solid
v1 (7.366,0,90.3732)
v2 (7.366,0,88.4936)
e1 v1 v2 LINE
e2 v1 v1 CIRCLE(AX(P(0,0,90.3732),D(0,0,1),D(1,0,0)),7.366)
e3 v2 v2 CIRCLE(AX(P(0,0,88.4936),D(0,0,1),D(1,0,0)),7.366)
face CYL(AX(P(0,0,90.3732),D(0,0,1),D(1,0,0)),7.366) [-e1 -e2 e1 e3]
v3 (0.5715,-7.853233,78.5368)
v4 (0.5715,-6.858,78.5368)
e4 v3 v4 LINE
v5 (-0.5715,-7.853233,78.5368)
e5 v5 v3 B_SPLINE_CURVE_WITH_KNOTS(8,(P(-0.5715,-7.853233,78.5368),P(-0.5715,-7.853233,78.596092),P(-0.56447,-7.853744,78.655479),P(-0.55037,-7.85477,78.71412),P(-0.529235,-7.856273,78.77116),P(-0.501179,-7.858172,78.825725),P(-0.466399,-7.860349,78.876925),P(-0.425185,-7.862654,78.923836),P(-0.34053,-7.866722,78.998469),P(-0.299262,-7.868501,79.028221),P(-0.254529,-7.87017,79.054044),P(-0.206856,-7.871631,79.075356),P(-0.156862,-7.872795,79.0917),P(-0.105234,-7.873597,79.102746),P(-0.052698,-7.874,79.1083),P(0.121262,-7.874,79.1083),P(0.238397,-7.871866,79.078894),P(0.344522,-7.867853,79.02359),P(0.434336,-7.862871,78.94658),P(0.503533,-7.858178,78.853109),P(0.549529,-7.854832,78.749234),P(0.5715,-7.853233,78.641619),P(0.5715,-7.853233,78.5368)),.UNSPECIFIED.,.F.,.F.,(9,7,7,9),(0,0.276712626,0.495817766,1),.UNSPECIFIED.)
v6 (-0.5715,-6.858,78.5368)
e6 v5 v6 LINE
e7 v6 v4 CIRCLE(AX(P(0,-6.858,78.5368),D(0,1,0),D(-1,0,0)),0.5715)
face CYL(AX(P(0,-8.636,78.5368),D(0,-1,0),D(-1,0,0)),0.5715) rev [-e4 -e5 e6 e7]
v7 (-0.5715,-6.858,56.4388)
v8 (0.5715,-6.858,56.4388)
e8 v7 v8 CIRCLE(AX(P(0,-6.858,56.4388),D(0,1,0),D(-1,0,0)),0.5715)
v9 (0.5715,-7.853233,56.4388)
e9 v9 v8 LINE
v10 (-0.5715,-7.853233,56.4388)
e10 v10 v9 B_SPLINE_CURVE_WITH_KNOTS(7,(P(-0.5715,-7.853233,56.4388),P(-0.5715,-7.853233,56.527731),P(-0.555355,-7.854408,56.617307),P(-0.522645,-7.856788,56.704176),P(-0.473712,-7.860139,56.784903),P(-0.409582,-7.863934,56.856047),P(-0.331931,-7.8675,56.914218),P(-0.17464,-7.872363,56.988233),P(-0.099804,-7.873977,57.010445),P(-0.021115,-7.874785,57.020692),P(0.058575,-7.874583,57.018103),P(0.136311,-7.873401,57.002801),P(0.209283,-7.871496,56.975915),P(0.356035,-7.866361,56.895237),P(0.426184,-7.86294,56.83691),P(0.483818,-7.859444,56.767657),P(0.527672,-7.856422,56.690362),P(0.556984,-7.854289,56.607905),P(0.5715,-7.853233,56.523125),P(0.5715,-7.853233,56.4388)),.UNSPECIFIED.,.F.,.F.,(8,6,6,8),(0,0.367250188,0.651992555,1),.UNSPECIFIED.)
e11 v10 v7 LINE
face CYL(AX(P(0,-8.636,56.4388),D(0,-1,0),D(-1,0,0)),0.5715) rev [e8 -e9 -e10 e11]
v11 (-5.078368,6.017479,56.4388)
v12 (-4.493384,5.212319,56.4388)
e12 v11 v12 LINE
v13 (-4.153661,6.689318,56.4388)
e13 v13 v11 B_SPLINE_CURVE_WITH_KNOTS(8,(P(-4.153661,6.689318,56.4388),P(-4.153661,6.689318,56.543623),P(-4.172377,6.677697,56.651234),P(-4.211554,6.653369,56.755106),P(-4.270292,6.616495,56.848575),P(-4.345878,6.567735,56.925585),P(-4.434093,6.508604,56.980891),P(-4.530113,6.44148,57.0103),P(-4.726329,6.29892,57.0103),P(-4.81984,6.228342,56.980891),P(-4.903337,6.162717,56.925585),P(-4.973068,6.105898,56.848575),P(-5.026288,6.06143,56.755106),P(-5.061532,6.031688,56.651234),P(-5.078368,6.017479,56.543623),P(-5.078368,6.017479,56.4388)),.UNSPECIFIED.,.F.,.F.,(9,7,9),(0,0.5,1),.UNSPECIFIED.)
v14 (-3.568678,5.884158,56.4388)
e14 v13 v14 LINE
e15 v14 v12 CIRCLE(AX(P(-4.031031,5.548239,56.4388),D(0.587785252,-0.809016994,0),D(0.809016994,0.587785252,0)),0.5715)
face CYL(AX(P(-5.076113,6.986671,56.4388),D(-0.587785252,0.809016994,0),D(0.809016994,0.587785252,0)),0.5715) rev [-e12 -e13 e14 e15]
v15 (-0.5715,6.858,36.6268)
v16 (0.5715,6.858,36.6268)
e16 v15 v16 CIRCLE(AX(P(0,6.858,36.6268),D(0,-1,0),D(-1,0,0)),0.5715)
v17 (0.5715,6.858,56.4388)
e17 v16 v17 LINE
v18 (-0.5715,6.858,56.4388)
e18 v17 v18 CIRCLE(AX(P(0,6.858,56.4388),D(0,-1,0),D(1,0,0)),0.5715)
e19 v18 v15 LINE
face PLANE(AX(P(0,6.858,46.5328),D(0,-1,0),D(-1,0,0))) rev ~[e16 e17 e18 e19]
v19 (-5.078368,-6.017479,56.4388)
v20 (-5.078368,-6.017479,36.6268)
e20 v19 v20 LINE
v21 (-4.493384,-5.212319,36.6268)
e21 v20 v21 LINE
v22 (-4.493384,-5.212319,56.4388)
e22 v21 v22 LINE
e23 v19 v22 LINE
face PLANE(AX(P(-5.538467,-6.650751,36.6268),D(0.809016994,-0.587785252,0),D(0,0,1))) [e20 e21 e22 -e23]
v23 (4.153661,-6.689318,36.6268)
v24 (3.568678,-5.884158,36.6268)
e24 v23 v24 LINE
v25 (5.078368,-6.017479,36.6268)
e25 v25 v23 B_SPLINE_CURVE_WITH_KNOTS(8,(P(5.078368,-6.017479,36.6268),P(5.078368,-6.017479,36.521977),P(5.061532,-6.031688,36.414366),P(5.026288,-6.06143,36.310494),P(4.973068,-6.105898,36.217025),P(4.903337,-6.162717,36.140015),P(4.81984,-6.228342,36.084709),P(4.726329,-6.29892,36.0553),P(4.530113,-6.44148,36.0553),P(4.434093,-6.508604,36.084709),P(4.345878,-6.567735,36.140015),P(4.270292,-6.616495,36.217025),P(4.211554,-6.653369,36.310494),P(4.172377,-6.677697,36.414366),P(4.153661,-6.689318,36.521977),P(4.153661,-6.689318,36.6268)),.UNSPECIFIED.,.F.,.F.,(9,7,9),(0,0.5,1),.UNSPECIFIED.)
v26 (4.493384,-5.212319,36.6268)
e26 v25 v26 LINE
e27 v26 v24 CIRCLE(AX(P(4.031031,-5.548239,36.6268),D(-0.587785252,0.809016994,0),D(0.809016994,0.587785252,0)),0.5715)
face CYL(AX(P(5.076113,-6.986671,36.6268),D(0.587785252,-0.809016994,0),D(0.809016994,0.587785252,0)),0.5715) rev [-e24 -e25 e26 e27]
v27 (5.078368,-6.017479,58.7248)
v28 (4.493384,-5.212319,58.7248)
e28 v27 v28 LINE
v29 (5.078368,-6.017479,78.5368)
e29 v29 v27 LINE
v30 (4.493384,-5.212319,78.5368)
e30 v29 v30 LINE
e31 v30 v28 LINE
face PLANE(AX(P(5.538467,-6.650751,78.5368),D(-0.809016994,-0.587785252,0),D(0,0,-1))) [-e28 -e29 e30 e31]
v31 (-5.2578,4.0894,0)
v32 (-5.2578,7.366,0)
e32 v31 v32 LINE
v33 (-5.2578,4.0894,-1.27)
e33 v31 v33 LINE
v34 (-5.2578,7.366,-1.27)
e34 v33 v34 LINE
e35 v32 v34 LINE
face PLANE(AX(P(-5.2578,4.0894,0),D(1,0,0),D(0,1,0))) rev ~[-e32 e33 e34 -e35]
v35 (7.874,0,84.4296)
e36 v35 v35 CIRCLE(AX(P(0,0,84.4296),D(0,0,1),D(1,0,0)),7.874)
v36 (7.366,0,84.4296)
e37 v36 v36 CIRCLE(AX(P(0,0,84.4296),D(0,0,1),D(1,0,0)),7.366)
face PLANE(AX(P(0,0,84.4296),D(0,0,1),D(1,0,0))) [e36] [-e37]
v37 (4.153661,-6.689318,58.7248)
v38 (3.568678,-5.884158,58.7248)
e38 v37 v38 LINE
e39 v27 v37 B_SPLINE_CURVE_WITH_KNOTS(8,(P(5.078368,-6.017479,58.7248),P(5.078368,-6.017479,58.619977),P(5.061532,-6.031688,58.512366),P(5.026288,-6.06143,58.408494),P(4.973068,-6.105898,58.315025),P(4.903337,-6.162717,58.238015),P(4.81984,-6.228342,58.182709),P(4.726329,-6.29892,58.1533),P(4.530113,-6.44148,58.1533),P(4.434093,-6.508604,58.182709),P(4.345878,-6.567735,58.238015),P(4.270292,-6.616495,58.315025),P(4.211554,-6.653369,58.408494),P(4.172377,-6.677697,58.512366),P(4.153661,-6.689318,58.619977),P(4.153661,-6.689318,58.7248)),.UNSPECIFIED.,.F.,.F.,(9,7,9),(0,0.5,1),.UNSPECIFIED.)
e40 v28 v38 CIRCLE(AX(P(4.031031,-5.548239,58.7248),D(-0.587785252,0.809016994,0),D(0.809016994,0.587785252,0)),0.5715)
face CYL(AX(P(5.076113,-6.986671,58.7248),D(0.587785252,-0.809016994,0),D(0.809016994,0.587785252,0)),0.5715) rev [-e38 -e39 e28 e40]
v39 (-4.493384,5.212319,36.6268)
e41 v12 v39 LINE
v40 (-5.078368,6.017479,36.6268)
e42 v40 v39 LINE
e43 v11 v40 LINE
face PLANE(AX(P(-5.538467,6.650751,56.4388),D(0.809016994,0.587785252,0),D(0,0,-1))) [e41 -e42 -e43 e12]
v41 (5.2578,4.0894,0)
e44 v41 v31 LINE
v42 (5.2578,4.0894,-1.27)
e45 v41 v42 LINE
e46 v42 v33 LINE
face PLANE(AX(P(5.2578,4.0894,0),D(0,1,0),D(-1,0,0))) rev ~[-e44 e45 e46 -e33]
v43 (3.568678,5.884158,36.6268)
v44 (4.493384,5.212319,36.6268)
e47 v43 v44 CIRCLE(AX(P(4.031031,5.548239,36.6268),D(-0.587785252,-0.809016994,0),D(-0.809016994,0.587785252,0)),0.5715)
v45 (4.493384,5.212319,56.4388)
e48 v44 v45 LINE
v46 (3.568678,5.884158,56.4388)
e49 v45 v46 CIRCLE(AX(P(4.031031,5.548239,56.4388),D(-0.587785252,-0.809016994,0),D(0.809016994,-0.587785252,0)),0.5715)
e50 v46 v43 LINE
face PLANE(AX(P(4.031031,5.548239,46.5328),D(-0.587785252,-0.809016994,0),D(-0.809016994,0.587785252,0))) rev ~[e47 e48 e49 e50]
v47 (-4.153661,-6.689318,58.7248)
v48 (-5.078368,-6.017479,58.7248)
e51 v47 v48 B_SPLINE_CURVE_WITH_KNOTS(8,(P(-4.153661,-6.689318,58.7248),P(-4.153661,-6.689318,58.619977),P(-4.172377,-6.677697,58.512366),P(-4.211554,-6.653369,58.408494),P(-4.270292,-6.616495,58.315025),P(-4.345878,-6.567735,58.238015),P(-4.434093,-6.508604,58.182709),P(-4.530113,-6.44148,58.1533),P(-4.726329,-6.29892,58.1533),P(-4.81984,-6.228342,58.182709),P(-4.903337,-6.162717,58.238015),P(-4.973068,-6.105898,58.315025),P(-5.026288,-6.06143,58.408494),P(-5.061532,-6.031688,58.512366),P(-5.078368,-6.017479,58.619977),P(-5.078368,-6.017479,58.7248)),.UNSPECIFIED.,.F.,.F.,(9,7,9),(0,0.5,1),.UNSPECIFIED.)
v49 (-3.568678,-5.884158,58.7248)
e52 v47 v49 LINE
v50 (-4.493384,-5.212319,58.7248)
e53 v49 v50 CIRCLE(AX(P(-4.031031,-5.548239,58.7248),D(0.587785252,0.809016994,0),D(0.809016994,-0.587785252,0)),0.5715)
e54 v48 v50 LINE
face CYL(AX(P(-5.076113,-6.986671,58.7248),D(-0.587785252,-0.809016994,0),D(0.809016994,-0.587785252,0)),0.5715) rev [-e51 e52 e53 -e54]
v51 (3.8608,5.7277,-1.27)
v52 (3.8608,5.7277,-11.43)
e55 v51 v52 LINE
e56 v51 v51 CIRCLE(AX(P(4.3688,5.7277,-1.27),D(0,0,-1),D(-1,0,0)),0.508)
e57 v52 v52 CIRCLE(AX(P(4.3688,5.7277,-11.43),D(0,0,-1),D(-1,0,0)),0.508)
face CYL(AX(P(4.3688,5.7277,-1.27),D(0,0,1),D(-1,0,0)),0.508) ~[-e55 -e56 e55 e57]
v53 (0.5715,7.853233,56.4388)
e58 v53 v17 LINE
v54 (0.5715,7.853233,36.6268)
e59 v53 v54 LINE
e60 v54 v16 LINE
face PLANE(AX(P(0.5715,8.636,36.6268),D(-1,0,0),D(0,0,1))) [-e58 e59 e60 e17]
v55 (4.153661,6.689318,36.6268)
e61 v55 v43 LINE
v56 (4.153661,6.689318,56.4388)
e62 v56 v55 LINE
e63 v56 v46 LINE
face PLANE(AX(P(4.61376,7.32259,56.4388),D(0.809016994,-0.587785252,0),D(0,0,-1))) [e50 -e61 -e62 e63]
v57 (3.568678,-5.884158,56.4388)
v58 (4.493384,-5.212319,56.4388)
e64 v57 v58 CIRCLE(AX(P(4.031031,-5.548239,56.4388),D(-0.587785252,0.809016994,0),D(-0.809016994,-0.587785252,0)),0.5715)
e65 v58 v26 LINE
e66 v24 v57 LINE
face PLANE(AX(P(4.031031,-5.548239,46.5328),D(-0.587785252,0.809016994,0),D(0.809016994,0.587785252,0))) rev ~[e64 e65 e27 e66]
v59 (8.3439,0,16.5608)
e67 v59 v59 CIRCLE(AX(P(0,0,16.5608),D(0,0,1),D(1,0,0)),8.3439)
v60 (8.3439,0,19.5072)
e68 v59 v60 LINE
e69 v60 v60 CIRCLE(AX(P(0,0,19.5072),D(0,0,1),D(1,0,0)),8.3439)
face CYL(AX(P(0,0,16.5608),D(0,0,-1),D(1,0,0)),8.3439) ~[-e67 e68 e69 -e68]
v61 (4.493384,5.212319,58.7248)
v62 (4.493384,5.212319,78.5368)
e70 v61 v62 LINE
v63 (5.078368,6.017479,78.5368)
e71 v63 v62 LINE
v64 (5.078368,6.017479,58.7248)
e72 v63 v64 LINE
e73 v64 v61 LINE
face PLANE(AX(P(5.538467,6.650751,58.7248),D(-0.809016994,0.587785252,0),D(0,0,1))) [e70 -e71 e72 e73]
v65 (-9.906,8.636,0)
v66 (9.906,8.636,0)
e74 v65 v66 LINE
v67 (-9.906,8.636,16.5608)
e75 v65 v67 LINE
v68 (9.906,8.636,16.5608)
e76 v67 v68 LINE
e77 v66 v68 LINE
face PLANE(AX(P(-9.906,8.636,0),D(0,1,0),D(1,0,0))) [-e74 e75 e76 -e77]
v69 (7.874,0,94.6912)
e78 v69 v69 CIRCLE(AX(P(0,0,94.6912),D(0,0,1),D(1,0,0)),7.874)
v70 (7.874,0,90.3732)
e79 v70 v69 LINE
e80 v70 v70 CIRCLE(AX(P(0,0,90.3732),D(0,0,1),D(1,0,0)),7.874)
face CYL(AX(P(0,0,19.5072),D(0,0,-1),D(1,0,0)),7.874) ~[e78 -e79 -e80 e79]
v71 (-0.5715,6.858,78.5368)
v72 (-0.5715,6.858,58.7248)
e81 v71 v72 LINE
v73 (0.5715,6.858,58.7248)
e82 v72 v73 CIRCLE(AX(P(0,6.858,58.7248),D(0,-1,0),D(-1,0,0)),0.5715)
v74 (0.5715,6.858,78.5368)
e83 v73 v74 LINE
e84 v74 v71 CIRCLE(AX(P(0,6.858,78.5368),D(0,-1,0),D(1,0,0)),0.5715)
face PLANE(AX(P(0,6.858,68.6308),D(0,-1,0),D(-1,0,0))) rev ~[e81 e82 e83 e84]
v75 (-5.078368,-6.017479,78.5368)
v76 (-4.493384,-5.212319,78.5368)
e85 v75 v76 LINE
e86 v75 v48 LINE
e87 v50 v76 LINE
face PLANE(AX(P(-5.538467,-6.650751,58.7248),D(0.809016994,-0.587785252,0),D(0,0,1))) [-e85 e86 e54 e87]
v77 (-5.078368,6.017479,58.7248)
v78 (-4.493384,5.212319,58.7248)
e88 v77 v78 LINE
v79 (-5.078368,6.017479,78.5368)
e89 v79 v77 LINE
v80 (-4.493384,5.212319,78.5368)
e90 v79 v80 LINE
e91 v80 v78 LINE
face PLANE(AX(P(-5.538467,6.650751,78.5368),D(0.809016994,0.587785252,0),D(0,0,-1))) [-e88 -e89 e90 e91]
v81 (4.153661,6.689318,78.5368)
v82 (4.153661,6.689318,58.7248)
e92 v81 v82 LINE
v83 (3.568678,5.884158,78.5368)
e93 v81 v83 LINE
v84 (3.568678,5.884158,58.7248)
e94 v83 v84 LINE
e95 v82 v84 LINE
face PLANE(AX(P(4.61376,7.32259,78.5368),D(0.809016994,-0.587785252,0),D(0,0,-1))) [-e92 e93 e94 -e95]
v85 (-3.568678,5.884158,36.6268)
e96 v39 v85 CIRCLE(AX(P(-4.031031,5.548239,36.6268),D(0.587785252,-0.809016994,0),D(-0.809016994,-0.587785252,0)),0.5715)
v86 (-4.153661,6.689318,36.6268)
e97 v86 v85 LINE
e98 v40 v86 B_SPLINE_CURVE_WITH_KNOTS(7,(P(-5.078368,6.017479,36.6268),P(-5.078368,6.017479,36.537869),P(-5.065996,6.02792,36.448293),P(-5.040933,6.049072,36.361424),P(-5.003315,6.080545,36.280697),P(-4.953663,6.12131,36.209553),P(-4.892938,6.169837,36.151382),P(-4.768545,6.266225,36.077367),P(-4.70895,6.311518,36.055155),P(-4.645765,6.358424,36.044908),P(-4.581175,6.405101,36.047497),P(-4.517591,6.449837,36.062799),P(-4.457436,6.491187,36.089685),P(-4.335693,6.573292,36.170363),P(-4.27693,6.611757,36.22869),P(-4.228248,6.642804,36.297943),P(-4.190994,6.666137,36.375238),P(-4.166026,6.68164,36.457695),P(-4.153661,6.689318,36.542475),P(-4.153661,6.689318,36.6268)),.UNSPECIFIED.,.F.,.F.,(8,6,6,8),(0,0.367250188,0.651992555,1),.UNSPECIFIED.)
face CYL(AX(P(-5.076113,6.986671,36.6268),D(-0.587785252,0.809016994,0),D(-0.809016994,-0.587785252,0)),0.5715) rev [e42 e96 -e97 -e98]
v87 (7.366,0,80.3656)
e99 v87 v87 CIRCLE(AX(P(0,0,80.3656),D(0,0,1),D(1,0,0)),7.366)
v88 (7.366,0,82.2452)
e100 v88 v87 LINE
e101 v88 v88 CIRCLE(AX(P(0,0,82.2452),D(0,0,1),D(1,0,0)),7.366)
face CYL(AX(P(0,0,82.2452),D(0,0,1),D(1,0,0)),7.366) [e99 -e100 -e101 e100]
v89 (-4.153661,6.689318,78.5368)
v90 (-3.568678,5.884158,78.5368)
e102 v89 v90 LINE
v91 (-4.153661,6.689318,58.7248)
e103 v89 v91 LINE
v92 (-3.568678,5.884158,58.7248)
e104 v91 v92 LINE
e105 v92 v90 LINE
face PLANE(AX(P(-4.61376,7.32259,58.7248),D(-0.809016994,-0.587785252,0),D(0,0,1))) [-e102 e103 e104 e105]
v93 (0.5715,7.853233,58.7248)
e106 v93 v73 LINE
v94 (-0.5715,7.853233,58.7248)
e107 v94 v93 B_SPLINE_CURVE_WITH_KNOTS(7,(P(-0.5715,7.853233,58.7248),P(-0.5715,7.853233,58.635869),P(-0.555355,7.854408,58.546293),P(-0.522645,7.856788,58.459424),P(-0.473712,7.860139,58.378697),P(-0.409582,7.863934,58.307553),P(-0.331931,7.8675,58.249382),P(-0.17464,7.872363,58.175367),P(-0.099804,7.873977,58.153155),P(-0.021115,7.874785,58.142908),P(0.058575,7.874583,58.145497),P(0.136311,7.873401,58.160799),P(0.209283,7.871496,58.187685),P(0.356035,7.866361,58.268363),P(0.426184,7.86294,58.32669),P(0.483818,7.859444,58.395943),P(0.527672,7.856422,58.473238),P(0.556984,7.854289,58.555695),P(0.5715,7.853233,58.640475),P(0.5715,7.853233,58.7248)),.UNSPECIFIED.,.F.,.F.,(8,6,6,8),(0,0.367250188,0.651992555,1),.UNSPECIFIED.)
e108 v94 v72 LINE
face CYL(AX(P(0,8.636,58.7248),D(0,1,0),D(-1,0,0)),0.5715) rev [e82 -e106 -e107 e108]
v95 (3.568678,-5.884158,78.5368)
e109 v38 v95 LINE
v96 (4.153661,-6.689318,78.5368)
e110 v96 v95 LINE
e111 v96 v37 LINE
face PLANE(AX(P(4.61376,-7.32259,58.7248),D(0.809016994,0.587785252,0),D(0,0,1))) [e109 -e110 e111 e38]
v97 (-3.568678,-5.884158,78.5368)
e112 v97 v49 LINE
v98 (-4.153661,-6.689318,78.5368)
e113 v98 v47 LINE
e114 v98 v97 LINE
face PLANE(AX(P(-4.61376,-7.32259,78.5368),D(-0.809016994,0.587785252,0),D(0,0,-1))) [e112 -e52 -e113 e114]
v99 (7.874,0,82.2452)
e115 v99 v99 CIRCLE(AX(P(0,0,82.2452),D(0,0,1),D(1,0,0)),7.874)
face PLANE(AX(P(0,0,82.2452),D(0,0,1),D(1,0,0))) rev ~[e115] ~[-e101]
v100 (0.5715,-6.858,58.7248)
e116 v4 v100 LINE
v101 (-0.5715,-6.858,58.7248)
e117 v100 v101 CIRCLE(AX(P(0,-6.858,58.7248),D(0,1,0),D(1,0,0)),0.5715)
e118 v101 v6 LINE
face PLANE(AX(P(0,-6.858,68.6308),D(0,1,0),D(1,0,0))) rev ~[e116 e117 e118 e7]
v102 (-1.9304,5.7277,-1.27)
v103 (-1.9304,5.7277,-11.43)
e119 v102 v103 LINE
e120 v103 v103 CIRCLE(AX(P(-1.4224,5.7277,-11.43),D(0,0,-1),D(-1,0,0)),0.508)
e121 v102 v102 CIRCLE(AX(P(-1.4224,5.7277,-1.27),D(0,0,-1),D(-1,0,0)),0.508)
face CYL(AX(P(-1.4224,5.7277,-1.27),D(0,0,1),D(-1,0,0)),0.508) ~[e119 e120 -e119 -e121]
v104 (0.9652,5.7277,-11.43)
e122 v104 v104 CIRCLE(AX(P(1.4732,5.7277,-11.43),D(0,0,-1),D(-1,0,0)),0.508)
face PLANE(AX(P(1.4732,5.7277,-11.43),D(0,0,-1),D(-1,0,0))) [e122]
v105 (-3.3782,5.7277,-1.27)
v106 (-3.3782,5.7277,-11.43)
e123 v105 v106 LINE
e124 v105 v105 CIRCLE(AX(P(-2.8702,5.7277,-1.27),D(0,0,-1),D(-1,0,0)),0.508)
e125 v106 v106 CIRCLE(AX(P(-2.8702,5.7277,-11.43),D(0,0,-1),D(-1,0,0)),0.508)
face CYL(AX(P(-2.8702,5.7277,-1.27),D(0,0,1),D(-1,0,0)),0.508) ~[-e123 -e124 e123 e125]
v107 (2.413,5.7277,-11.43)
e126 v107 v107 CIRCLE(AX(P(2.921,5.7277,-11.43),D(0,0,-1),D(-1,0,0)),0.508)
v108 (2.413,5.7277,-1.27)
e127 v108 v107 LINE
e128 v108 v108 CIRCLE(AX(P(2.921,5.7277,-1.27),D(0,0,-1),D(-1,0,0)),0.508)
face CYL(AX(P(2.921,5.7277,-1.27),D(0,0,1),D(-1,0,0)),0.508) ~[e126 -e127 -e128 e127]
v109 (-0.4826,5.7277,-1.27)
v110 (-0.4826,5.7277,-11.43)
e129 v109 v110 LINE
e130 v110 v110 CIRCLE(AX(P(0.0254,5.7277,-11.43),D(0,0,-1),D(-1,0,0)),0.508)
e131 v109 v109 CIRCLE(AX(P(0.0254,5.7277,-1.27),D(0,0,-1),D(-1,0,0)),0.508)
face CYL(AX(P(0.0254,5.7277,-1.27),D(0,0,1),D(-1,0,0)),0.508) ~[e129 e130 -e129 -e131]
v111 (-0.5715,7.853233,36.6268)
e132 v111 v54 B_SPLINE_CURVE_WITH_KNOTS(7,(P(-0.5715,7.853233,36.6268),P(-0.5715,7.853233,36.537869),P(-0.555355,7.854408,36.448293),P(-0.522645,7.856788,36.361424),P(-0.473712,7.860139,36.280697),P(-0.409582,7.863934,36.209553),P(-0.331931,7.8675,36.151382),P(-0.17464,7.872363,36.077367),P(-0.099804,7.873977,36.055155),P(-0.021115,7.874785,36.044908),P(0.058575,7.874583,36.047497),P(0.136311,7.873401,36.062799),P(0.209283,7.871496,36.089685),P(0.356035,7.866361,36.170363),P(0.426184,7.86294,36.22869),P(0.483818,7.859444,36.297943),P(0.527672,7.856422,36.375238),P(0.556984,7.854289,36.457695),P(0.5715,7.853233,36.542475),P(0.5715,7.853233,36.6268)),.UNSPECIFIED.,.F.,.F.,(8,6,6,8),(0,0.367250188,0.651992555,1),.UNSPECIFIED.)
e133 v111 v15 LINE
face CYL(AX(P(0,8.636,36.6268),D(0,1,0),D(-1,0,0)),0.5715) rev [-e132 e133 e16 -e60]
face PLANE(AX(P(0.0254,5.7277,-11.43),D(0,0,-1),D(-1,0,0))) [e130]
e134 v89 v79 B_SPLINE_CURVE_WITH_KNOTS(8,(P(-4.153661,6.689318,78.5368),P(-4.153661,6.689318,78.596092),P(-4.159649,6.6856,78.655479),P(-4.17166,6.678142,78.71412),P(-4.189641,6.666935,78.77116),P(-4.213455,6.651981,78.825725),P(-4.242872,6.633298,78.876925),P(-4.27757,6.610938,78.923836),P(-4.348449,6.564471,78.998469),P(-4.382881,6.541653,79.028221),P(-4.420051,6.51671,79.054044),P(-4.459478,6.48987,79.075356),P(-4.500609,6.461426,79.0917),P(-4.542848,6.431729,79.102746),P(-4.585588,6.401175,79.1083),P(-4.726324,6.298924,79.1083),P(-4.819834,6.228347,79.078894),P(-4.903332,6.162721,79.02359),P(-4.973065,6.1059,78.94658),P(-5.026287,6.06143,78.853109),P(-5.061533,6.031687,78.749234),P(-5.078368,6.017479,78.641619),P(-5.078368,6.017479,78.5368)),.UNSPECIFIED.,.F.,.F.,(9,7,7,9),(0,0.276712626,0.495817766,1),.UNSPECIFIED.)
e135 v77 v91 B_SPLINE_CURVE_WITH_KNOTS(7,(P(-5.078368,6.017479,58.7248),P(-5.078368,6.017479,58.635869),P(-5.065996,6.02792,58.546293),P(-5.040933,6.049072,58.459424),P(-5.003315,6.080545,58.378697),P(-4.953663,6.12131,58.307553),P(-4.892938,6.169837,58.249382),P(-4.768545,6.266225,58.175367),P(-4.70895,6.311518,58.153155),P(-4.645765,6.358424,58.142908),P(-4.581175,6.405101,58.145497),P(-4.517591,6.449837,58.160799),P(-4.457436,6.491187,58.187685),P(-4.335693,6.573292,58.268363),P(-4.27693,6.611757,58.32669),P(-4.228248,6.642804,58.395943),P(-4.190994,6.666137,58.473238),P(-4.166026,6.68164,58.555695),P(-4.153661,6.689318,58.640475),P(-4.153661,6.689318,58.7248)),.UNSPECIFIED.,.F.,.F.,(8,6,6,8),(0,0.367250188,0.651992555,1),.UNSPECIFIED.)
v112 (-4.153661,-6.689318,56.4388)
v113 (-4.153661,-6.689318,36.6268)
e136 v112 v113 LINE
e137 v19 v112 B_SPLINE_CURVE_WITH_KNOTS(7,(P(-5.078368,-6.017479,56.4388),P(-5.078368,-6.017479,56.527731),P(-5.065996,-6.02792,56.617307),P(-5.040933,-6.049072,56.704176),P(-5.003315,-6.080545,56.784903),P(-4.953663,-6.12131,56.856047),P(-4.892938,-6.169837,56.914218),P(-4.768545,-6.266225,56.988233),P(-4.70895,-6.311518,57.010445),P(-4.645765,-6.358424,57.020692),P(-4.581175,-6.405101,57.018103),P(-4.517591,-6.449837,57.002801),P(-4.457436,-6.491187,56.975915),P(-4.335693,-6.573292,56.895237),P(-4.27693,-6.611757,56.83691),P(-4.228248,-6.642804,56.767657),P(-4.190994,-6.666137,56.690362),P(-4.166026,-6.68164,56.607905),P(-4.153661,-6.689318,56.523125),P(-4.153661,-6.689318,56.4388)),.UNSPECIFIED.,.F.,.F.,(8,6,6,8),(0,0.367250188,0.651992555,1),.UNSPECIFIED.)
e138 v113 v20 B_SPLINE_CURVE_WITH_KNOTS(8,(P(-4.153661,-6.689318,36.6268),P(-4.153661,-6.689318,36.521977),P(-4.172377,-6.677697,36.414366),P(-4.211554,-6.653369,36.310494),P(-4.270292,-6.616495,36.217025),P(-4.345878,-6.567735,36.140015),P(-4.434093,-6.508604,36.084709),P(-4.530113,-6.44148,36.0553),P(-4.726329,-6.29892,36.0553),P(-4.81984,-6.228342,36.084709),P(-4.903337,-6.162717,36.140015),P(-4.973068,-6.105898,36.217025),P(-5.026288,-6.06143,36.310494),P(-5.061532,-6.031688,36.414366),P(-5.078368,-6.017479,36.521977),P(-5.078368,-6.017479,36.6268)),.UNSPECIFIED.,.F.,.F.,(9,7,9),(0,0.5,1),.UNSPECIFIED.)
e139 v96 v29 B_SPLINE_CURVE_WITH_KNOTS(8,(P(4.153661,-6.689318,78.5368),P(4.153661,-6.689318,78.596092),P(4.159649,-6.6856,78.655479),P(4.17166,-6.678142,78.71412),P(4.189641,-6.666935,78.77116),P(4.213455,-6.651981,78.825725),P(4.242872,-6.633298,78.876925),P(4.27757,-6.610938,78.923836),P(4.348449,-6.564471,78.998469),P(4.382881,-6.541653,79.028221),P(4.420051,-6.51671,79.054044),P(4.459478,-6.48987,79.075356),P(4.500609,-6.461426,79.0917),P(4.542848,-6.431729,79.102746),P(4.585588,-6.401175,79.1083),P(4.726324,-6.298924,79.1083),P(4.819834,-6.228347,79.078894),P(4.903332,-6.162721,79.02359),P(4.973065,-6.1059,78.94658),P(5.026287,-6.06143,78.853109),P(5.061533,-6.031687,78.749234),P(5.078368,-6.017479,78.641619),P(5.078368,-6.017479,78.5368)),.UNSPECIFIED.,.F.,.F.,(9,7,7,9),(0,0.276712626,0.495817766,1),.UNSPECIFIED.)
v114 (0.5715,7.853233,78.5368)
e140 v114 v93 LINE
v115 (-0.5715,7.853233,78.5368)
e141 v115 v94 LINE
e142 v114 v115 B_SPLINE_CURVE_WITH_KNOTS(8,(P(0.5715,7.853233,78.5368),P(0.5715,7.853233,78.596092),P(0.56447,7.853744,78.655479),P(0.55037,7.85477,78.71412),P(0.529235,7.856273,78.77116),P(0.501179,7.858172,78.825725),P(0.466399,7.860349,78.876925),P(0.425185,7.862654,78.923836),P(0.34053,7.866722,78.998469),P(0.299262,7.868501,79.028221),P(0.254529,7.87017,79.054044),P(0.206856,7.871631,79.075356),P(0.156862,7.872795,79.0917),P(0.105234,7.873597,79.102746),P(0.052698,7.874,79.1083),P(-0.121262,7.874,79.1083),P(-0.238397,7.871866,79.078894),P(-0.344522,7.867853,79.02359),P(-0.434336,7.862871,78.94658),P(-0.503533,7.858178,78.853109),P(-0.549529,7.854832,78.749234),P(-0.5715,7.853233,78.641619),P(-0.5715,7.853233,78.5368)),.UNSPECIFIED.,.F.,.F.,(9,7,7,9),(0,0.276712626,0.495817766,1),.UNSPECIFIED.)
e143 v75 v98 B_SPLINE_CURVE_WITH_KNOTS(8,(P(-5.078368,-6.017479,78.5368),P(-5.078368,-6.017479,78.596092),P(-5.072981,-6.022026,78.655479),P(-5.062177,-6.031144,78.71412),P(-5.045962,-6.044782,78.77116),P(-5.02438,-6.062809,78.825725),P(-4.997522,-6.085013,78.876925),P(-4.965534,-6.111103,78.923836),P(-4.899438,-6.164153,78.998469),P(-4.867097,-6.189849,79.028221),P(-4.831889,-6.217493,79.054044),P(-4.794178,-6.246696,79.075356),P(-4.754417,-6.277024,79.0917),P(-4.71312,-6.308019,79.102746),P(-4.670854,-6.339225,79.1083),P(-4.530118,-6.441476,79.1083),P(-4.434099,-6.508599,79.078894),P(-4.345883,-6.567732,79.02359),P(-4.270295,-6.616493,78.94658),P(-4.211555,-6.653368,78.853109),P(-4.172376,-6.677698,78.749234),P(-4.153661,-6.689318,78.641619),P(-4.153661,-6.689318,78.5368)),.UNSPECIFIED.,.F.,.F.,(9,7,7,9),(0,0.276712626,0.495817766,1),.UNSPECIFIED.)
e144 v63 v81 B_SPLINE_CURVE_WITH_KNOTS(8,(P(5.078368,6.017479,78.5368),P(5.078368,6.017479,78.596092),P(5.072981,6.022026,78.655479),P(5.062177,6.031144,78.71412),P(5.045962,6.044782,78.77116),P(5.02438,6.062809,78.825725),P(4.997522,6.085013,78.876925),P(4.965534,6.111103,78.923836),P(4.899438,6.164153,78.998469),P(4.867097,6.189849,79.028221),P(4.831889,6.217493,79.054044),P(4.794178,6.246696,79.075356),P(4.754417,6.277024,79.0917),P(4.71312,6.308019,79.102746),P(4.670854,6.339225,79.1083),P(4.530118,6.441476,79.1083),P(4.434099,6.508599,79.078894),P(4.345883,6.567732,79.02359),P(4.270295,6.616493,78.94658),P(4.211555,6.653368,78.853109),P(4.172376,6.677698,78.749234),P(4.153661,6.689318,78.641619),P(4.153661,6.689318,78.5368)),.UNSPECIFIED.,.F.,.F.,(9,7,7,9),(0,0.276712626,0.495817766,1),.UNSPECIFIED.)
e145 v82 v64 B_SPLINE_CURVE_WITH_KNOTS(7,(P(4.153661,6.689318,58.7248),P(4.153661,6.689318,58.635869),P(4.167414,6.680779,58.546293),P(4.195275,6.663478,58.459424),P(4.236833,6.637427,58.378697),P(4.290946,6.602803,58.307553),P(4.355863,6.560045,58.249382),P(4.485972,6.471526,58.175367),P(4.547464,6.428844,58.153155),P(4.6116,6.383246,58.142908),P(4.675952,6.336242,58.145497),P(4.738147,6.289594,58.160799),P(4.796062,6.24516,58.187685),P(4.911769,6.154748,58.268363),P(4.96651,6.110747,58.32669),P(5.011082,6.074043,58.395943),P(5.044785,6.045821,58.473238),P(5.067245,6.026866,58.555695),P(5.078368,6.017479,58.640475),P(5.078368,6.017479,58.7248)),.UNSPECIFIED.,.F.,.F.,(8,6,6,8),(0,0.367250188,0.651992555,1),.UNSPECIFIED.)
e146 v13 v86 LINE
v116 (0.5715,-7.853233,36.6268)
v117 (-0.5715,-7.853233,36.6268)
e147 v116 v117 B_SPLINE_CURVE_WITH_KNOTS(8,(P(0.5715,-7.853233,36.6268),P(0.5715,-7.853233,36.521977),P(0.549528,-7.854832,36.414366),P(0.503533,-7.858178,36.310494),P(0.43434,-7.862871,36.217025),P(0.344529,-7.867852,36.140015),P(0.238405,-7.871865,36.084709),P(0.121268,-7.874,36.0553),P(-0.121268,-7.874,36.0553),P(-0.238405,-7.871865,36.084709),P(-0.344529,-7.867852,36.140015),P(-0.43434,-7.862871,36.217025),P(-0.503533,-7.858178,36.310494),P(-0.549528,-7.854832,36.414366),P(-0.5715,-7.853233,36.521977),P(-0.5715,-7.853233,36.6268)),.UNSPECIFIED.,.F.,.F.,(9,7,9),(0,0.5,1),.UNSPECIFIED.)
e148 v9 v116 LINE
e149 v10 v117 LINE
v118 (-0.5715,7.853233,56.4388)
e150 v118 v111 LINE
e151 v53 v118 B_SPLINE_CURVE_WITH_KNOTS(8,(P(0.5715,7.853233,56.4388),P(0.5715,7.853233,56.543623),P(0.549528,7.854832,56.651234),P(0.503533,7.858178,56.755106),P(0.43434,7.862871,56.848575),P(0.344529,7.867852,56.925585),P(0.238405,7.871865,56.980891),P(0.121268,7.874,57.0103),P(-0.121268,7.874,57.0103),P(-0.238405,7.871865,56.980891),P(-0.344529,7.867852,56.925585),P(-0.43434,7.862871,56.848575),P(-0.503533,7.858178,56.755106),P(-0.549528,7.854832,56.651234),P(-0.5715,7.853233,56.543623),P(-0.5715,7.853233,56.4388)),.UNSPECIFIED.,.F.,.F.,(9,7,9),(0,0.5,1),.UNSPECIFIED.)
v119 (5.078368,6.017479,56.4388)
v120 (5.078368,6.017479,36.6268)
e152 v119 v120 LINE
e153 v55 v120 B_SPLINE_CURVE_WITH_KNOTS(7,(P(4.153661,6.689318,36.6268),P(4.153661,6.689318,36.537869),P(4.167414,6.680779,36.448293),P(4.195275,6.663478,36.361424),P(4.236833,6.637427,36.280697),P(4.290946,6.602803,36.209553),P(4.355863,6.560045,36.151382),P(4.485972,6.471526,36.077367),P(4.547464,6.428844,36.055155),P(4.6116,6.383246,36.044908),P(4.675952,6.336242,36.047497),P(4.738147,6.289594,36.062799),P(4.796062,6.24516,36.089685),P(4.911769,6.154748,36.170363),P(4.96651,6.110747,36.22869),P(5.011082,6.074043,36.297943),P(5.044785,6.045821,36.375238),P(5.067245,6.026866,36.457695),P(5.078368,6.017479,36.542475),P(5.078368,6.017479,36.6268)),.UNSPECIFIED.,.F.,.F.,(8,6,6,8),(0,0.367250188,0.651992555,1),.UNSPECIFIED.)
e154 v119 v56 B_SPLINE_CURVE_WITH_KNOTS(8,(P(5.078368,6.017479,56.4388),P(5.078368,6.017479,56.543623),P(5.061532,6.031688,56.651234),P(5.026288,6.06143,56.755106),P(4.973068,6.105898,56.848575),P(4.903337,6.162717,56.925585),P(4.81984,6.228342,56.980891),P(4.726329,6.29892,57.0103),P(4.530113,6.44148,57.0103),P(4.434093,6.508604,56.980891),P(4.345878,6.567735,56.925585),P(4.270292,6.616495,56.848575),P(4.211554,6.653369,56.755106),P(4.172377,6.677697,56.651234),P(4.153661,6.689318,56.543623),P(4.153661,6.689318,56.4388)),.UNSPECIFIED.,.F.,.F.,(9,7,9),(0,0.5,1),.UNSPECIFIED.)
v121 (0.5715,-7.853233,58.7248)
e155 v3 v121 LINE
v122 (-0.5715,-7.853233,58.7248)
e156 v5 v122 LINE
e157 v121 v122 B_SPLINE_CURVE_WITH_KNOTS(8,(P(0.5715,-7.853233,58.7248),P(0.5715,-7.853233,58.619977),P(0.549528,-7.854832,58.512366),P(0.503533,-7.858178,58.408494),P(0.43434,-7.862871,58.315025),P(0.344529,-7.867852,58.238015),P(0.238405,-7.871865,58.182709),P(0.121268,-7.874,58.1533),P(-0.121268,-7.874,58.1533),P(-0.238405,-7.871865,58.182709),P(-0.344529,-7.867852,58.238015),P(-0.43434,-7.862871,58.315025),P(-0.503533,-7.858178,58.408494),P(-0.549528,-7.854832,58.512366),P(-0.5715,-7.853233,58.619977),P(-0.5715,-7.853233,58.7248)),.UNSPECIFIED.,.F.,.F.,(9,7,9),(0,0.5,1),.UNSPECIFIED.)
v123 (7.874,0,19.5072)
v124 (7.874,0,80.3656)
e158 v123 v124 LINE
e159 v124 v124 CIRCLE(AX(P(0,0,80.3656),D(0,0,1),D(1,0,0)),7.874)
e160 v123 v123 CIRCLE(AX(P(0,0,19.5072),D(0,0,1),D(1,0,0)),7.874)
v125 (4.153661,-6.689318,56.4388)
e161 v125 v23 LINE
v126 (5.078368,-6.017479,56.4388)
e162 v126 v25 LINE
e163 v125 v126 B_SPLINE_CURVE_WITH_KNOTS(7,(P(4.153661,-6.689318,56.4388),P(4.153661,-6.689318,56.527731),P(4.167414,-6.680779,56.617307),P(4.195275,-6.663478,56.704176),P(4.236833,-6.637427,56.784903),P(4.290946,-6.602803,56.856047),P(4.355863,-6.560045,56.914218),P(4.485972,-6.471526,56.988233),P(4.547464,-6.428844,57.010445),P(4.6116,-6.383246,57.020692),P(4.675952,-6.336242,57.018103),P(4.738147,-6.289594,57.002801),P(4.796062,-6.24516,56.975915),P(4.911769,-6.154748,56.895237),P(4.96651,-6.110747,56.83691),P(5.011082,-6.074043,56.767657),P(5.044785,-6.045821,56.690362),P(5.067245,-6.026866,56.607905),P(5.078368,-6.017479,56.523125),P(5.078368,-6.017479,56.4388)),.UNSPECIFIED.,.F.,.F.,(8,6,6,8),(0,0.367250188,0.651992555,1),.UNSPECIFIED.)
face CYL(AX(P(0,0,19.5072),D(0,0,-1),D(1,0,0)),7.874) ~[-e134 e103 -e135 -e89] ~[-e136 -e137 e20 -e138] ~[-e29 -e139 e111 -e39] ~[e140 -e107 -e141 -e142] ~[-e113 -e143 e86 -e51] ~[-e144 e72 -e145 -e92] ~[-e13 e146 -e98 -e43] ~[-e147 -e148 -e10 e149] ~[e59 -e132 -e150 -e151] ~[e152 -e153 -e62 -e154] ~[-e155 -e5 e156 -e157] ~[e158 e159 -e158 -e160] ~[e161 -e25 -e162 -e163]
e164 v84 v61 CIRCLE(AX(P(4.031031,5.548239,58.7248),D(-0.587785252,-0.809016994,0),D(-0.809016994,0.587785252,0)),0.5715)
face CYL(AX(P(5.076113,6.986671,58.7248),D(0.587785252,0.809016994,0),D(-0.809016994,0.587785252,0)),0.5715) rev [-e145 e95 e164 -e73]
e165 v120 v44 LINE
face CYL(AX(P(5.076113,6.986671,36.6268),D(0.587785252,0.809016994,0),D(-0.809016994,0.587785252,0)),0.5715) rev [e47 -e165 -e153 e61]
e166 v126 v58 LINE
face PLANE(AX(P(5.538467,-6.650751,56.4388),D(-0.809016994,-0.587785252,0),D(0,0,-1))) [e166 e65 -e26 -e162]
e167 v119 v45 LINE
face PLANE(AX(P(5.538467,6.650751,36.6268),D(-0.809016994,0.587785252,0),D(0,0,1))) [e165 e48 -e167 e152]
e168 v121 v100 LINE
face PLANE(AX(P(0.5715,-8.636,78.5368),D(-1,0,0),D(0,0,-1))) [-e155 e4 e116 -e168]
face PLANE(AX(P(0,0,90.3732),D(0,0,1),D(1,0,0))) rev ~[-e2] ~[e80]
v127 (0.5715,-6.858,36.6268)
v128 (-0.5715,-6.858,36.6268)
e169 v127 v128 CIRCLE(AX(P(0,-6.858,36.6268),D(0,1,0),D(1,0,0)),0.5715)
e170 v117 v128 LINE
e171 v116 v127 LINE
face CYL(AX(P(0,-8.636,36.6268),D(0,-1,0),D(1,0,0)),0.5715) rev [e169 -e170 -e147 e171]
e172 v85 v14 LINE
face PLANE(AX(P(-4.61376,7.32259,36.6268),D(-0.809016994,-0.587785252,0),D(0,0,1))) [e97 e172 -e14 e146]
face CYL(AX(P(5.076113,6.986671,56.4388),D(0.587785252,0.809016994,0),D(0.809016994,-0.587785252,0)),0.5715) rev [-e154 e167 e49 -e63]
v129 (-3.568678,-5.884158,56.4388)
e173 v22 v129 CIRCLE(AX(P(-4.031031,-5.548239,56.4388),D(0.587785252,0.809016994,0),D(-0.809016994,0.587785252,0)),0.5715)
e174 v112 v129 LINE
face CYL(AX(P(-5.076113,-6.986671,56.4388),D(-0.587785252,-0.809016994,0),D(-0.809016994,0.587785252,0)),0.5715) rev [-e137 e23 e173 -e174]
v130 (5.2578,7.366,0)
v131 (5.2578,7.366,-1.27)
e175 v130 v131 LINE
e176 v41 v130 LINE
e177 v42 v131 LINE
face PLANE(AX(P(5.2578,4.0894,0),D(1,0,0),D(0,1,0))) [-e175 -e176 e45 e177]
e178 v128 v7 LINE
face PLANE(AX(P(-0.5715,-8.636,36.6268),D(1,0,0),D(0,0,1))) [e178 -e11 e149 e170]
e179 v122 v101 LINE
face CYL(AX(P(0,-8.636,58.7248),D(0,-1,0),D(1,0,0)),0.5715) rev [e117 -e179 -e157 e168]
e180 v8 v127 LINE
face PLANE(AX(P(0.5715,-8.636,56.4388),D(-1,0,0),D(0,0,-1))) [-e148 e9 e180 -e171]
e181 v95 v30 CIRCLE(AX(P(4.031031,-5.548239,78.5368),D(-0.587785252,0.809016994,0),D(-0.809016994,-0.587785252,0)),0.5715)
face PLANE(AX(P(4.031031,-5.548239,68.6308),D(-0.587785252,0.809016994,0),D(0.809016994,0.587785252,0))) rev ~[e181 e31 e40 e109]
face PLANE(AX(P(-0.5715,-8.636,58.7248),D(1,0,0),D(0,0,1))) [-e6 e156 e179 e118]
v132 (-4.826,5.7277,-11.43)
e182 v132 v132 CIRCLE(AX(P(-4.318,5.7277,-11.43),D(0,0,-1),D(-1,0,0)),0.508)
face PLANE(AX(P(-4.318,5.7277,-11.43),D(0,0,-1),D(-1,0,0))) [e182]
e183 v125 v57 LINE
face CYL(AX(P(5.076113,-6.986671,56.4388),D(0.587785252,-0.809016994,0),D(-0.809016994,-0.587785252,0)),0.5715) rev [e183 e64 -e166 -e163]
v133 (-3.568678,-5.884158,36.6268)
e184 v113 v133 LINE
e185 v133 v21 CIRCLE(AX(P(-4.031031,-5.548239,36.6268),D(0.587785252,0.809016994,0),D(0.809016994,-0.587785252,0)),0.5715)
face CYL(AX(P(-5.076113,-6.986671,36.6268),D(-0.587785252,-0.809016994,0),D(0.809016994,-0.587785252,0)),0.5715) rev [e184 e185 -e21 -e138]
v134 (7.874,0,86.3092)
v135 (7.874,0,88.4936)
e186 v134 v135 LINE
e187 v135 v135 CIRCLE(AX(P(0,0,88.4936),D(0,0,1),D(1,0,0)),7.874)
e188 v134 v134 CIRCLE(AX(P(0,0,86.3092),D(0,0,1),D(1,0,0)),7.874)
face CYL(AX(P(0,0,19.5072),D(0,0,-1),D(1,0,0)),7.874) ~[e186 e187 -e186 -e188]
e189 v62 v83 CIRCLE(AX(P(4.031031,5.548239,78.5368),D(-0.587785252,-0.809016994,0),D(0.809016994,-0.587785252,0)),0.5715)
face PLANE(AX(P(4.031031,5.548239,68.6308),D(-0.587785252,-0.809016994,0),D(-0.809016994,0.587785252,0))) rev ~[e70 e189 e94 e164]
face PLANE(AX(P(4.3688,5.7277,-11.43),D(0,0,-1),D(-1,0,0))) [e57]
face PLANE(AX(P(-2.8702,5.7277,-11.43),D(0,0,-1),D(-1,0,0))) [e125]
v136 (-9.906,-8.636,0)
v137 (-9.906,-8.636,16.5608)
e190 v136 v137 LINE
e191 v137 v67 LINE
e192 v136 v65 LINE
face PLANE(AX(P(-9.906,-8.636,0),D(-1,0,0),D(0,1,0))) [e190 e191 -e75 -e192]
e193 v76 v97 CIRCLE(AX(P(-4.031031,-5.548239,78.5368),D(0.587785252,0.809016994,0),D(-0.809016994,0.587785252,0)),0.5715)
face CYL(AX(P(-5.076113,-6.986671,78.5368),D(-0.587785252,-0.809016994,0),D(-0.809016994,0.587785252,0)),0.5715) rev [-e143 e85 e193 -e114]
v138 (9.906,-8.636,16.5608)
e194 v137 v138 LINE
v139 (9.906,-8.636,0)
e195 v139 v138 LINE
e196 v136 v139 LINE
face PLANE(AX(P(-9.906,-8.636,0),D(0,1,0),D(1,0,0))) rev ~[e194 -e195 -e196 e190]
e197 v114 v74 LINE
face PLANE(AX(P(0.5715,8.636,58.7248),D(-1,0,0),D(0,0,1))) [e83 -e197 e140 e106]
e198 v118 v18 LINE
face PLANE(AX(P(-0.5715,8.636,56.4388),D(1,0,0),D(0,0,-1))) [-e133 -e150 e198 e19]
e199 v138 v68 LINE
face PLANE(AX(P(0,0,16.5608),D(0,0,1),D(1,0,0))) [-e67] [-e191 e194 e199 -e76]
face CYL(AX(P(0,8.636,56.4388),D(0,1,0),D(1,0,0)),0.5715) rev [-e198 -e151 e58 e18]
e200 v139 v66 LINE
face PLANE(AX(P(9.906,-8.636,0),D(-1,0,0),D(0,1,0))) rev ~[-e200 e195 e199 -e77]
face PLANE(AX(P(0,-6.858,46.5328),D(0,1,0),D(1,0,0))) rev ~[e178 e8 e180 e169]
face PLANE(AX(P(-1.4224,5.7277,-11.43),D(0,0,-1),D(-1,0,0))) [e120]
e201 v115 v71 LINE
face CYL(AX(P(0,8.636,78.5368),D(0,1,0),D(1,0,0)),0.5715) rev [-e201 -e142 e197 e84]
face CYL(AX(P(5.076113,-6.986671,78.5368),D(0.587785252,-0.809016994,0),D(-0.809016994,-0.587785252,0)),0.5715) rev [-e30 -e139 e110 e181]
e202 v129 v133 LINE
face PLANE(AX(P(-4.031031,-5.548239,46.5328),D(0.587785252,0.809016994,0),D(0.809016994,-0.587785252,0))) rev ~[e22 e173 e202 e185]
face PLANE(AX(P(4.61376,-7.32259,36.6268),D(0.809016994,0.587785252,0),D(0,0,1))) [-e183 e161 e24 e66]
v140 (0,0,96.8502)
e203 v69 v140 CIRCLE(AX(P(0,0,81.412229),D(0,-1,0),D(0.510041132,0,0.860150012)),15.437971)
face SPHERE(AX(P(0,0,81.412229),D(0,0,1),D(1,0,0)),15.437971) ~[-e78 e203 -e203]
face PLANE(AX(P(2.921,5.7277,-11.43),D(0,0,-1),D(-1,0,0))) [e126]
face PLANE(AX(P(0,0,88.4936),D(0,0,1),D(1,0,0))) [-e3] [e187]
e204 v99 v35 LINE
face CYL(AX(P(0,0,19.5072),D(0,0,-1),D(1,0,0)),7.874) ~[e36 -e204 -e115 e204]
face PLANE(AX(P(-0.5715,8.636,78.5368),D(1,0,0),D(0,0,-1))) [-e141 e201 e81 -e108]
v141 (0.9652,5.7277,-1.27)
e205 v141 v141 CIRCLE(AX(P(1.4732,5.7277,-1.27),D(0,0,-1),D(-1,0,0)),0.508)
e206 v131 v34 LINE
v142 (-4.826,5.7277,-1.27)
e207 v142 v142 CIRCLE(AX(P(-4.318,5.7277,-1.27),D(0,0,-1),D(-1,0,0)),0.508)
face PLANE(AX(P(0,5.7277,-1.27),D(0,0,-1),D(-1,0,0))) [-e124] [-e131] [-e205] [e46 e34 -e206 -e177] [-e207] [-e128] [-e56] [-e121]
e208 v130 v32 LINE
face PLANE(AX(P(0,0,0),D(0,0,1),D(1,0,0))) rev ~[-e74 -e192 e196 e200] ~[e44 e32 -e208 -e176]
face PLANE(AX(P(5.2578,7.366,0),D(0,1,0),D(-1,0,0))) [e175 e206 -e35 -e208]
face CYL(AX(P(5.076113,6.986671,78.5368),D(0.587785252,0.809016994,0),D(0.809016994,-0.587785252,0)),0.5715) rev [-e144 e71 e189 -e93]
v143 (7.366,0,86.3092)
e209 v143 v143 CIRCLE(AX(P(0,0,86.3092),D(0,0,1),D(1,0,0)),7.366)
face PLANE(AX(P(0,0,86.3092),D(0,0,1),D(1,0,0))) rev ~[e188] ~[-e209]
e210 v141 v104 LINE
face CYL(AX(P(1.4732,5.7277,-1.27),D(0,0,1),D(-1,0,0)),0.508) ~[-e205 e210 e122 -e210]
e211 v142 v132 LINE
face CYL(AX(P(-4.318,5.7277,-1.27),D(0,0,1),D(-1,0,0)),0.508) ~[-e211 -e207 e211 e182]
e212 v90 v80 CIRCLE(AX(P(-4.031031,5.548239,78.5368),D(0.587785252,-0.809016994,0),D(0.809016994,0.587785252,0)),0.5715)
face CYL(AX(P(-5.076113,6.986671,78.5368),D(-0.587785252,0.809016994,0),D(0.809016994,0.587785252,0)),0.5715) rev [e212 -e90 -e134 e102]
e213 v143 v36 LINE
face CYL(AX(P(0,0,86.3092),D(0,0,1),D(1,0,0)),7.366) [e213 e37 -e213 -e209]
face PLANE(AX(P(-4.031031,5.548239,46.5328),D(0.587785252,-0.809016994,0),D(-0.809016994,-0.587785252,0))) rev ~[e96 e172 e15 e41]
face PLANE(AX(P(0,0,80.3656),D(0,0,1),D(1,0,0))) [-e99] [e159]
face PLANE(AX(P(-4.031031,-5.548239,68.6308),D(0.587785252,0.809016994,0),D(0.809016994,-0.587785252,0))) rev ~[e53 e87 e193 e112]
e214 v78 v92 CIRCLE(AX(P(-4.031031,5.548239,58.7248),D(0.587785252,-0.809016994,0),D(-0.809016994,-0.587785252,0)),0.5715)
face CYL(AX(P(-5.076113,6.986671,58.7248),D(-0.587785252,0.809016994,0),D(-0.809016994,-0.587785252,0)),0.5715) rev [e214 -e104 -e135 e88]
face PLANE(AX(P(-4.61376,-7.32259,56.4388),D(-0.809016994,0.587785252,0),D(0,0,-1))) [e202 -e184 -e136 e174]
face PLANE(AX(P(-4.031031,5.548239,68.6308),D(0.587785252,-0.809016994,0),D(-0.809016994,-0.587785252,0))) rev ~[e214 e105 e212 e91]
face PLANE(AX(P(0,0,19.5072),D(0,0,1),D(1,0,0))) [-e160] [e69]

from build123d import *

# Parameters (mm, degrees)
SKETCH1_W           = 19.812
SKETCH1_H           = 17.272
BOSS_EXTRUDE1_DEPTH = 16.5608
SKETCH2_W           = 10.5156
SKETCH2_H           = 3.2766
BOSS_EXTRUDE2_DEPTH = 1.27
SKETCH3_R           = 8.3439
BOSS_EXTRUDE3_DEPTH = 2.9464
SKETCH4_R           = 7.874
BOSS_EXTRUDE4_DEPTH = 75.184
SKETCH6_R           = 0.508
WIRE_2_DEPTH        = 10.16
LPATTERN1_COUNT     = 7
LPATTERN1_PITCH     = 1.4478
CUT_EXTRUDE1_DEPTH  = 1.778
CIRPATTERN1_COUNT   = 10
SKETCH8_R           = 7.874
SKETCH8_R_2         = 7.366
CUT_EXTRUDE2_DEPTH  = 1.8796
LPATTERN2_COUNT     = 3
LPATTERN2_PITCH     = 4.064


with BuildPart() as part:
    # Sketch1 → Boss-Extrude1 (new body)
    with BuildSketch(Plane.XY):
        Rectangle(SKETCH1_W, SKETCH1_H)
    extrude(amount=BOSS_EXTRUDE1_DEPTH)

    # Sketch2 → Boss-Extrude2 (add)
    with BuildSketch(Plane(origin=(0, 0, 0), x_dir=(-1, 0, 0), z_dir=(0, 0, -1))):
        with Locations((0, 5.7277)):
            Rectangle(SKETCH2_W, SKETCH2_H)
    extrude(amount=BOSS_EXTRUDE2_DEPTH)

    # Sketch3 → Boss-Extrude3 (add)
    with BuildSketch(Plane.XY.offset(16.5608)):
        Circle(SKETCH3_R)
    extrude(amount=BOSS_EXTRUDE3_DEPTH)

    # Sketch4 → Boss-Extrude4 (add)
    with BuildSketch(Plane.XY.offset(19.5072)):
        Circle(SKETCH4_R)
    extrude(amount=BOSS_EXTRUDE4_DEPTH)

    # Sketch5 → Revolve1 (revolve)
    with BuildSketch(Plane(origin=(0, 0, 0), x_dir=(1, 0, 0), z_dir=(0, 1, 0))):
        with BuildLine():
            Line((0, -96.8502), (0, -94.6912))
            Line((0, -94.6912), (7.874, -94.6912))
            ThreePointArc((7.874, -94.6912), (4.082314203, -96.300669445), (0, -96.8502))
        make_face()
    revolve(axis=Axis((0, 0, 96.8502), (0, 0, -1)))

    # Sketch6 → Wire 2 (add)
    with BuildSketch(Plane(origin=(0, 0, -1.27), x_dir=(-1, 0, 0), z_dir=(0, 0, -1))):
        with Locations((-4.3688, 5.7277)):
            Circle(SKETCH6_R)
    wire_2 = extrude(amount=WIRE_2_DEPTH)

    # LPattern1: Wire 2 ×7
    with Locations(*[(-i * LPATTERN1_PITCH, 0, 0) for i in range(1, LPATTERN1_COUNT)]):
        add(wire_2)

    # Sketch7 → Cut-Extrude1 (cut)
    with BuildSketch(Plane(origin=(0, 8.636, 0), x_dir=(1, 0, 0), z_dir=(0, 1, 0))):
        with BuildLine():
            Line((0.5715, -36.6268), (0.5715, -56.4388))
            ThreePointArc((0.5715, -56.4388), (0, -57.0103), (-0.5715, -56.4388))
            Line((-0.5715, -56.4388), (-0.5715, -36.6268))
            ThreePointArc((-0.5715, -36.6268), (0, -36.0553), (0.5715, -36.6268))
        make_face()
        with BuildLine():
            Line((0.5715, -58.7248), (0.5715, -78.5368))
            ThreePointArc((0.5715, -78.5368), (0, -79.1083), (-0.5715, -78.5368))
            Line((-0.5715, -78.5368), (-0.5715, -58.7248))
            ThreePointArc((-0.5715, -58.7248), (0, -58.1533), (0.5715, -58.7248))
        make_face()
    cut_extrude1 = extrude(amount=-CUT_EXTRUDE1_DEPTH, mode=Mode.SUBTRACT)

    # CirPattern1: Cut-Extrude1 ×10 about axis, 4 skipped
    cirpattern1_axis = Axis((0, 0, 0), (0, 0, -1))
    add([cut_extrude1.rotate(cirpattern1_axis, i * 360 / CIRPATTERN1_COUNT) for i in range(1, CIRPATTERN1_COUNT) if i not in (2, 3, 7, 8)], mode=Mode.SUBTRACT)

    # Sketch8 → Cut-Extrude2 (cut)
    with BuildSketch(Plane.XY.offset(82.2452)):
        Circle(SKETCH8_R)
        Circle(SKETCH8_R_2, mode=Mode.SUBTRACT)
    cut_extrude2 = extrude(amount=-CUT_EXTRUDE2_DEPTH, mode=Mode.SUBTRACT)

    # LPattern2: Cut-Extrude2 ×3
    with Locations(*[(0, 0, i * LPATTERN2_PITCH) for i in range(1, LPATTERN2_COUNT)]):
        add(cut_extrude2, mode=Mode.SUBTRACT)


solid = part.part
